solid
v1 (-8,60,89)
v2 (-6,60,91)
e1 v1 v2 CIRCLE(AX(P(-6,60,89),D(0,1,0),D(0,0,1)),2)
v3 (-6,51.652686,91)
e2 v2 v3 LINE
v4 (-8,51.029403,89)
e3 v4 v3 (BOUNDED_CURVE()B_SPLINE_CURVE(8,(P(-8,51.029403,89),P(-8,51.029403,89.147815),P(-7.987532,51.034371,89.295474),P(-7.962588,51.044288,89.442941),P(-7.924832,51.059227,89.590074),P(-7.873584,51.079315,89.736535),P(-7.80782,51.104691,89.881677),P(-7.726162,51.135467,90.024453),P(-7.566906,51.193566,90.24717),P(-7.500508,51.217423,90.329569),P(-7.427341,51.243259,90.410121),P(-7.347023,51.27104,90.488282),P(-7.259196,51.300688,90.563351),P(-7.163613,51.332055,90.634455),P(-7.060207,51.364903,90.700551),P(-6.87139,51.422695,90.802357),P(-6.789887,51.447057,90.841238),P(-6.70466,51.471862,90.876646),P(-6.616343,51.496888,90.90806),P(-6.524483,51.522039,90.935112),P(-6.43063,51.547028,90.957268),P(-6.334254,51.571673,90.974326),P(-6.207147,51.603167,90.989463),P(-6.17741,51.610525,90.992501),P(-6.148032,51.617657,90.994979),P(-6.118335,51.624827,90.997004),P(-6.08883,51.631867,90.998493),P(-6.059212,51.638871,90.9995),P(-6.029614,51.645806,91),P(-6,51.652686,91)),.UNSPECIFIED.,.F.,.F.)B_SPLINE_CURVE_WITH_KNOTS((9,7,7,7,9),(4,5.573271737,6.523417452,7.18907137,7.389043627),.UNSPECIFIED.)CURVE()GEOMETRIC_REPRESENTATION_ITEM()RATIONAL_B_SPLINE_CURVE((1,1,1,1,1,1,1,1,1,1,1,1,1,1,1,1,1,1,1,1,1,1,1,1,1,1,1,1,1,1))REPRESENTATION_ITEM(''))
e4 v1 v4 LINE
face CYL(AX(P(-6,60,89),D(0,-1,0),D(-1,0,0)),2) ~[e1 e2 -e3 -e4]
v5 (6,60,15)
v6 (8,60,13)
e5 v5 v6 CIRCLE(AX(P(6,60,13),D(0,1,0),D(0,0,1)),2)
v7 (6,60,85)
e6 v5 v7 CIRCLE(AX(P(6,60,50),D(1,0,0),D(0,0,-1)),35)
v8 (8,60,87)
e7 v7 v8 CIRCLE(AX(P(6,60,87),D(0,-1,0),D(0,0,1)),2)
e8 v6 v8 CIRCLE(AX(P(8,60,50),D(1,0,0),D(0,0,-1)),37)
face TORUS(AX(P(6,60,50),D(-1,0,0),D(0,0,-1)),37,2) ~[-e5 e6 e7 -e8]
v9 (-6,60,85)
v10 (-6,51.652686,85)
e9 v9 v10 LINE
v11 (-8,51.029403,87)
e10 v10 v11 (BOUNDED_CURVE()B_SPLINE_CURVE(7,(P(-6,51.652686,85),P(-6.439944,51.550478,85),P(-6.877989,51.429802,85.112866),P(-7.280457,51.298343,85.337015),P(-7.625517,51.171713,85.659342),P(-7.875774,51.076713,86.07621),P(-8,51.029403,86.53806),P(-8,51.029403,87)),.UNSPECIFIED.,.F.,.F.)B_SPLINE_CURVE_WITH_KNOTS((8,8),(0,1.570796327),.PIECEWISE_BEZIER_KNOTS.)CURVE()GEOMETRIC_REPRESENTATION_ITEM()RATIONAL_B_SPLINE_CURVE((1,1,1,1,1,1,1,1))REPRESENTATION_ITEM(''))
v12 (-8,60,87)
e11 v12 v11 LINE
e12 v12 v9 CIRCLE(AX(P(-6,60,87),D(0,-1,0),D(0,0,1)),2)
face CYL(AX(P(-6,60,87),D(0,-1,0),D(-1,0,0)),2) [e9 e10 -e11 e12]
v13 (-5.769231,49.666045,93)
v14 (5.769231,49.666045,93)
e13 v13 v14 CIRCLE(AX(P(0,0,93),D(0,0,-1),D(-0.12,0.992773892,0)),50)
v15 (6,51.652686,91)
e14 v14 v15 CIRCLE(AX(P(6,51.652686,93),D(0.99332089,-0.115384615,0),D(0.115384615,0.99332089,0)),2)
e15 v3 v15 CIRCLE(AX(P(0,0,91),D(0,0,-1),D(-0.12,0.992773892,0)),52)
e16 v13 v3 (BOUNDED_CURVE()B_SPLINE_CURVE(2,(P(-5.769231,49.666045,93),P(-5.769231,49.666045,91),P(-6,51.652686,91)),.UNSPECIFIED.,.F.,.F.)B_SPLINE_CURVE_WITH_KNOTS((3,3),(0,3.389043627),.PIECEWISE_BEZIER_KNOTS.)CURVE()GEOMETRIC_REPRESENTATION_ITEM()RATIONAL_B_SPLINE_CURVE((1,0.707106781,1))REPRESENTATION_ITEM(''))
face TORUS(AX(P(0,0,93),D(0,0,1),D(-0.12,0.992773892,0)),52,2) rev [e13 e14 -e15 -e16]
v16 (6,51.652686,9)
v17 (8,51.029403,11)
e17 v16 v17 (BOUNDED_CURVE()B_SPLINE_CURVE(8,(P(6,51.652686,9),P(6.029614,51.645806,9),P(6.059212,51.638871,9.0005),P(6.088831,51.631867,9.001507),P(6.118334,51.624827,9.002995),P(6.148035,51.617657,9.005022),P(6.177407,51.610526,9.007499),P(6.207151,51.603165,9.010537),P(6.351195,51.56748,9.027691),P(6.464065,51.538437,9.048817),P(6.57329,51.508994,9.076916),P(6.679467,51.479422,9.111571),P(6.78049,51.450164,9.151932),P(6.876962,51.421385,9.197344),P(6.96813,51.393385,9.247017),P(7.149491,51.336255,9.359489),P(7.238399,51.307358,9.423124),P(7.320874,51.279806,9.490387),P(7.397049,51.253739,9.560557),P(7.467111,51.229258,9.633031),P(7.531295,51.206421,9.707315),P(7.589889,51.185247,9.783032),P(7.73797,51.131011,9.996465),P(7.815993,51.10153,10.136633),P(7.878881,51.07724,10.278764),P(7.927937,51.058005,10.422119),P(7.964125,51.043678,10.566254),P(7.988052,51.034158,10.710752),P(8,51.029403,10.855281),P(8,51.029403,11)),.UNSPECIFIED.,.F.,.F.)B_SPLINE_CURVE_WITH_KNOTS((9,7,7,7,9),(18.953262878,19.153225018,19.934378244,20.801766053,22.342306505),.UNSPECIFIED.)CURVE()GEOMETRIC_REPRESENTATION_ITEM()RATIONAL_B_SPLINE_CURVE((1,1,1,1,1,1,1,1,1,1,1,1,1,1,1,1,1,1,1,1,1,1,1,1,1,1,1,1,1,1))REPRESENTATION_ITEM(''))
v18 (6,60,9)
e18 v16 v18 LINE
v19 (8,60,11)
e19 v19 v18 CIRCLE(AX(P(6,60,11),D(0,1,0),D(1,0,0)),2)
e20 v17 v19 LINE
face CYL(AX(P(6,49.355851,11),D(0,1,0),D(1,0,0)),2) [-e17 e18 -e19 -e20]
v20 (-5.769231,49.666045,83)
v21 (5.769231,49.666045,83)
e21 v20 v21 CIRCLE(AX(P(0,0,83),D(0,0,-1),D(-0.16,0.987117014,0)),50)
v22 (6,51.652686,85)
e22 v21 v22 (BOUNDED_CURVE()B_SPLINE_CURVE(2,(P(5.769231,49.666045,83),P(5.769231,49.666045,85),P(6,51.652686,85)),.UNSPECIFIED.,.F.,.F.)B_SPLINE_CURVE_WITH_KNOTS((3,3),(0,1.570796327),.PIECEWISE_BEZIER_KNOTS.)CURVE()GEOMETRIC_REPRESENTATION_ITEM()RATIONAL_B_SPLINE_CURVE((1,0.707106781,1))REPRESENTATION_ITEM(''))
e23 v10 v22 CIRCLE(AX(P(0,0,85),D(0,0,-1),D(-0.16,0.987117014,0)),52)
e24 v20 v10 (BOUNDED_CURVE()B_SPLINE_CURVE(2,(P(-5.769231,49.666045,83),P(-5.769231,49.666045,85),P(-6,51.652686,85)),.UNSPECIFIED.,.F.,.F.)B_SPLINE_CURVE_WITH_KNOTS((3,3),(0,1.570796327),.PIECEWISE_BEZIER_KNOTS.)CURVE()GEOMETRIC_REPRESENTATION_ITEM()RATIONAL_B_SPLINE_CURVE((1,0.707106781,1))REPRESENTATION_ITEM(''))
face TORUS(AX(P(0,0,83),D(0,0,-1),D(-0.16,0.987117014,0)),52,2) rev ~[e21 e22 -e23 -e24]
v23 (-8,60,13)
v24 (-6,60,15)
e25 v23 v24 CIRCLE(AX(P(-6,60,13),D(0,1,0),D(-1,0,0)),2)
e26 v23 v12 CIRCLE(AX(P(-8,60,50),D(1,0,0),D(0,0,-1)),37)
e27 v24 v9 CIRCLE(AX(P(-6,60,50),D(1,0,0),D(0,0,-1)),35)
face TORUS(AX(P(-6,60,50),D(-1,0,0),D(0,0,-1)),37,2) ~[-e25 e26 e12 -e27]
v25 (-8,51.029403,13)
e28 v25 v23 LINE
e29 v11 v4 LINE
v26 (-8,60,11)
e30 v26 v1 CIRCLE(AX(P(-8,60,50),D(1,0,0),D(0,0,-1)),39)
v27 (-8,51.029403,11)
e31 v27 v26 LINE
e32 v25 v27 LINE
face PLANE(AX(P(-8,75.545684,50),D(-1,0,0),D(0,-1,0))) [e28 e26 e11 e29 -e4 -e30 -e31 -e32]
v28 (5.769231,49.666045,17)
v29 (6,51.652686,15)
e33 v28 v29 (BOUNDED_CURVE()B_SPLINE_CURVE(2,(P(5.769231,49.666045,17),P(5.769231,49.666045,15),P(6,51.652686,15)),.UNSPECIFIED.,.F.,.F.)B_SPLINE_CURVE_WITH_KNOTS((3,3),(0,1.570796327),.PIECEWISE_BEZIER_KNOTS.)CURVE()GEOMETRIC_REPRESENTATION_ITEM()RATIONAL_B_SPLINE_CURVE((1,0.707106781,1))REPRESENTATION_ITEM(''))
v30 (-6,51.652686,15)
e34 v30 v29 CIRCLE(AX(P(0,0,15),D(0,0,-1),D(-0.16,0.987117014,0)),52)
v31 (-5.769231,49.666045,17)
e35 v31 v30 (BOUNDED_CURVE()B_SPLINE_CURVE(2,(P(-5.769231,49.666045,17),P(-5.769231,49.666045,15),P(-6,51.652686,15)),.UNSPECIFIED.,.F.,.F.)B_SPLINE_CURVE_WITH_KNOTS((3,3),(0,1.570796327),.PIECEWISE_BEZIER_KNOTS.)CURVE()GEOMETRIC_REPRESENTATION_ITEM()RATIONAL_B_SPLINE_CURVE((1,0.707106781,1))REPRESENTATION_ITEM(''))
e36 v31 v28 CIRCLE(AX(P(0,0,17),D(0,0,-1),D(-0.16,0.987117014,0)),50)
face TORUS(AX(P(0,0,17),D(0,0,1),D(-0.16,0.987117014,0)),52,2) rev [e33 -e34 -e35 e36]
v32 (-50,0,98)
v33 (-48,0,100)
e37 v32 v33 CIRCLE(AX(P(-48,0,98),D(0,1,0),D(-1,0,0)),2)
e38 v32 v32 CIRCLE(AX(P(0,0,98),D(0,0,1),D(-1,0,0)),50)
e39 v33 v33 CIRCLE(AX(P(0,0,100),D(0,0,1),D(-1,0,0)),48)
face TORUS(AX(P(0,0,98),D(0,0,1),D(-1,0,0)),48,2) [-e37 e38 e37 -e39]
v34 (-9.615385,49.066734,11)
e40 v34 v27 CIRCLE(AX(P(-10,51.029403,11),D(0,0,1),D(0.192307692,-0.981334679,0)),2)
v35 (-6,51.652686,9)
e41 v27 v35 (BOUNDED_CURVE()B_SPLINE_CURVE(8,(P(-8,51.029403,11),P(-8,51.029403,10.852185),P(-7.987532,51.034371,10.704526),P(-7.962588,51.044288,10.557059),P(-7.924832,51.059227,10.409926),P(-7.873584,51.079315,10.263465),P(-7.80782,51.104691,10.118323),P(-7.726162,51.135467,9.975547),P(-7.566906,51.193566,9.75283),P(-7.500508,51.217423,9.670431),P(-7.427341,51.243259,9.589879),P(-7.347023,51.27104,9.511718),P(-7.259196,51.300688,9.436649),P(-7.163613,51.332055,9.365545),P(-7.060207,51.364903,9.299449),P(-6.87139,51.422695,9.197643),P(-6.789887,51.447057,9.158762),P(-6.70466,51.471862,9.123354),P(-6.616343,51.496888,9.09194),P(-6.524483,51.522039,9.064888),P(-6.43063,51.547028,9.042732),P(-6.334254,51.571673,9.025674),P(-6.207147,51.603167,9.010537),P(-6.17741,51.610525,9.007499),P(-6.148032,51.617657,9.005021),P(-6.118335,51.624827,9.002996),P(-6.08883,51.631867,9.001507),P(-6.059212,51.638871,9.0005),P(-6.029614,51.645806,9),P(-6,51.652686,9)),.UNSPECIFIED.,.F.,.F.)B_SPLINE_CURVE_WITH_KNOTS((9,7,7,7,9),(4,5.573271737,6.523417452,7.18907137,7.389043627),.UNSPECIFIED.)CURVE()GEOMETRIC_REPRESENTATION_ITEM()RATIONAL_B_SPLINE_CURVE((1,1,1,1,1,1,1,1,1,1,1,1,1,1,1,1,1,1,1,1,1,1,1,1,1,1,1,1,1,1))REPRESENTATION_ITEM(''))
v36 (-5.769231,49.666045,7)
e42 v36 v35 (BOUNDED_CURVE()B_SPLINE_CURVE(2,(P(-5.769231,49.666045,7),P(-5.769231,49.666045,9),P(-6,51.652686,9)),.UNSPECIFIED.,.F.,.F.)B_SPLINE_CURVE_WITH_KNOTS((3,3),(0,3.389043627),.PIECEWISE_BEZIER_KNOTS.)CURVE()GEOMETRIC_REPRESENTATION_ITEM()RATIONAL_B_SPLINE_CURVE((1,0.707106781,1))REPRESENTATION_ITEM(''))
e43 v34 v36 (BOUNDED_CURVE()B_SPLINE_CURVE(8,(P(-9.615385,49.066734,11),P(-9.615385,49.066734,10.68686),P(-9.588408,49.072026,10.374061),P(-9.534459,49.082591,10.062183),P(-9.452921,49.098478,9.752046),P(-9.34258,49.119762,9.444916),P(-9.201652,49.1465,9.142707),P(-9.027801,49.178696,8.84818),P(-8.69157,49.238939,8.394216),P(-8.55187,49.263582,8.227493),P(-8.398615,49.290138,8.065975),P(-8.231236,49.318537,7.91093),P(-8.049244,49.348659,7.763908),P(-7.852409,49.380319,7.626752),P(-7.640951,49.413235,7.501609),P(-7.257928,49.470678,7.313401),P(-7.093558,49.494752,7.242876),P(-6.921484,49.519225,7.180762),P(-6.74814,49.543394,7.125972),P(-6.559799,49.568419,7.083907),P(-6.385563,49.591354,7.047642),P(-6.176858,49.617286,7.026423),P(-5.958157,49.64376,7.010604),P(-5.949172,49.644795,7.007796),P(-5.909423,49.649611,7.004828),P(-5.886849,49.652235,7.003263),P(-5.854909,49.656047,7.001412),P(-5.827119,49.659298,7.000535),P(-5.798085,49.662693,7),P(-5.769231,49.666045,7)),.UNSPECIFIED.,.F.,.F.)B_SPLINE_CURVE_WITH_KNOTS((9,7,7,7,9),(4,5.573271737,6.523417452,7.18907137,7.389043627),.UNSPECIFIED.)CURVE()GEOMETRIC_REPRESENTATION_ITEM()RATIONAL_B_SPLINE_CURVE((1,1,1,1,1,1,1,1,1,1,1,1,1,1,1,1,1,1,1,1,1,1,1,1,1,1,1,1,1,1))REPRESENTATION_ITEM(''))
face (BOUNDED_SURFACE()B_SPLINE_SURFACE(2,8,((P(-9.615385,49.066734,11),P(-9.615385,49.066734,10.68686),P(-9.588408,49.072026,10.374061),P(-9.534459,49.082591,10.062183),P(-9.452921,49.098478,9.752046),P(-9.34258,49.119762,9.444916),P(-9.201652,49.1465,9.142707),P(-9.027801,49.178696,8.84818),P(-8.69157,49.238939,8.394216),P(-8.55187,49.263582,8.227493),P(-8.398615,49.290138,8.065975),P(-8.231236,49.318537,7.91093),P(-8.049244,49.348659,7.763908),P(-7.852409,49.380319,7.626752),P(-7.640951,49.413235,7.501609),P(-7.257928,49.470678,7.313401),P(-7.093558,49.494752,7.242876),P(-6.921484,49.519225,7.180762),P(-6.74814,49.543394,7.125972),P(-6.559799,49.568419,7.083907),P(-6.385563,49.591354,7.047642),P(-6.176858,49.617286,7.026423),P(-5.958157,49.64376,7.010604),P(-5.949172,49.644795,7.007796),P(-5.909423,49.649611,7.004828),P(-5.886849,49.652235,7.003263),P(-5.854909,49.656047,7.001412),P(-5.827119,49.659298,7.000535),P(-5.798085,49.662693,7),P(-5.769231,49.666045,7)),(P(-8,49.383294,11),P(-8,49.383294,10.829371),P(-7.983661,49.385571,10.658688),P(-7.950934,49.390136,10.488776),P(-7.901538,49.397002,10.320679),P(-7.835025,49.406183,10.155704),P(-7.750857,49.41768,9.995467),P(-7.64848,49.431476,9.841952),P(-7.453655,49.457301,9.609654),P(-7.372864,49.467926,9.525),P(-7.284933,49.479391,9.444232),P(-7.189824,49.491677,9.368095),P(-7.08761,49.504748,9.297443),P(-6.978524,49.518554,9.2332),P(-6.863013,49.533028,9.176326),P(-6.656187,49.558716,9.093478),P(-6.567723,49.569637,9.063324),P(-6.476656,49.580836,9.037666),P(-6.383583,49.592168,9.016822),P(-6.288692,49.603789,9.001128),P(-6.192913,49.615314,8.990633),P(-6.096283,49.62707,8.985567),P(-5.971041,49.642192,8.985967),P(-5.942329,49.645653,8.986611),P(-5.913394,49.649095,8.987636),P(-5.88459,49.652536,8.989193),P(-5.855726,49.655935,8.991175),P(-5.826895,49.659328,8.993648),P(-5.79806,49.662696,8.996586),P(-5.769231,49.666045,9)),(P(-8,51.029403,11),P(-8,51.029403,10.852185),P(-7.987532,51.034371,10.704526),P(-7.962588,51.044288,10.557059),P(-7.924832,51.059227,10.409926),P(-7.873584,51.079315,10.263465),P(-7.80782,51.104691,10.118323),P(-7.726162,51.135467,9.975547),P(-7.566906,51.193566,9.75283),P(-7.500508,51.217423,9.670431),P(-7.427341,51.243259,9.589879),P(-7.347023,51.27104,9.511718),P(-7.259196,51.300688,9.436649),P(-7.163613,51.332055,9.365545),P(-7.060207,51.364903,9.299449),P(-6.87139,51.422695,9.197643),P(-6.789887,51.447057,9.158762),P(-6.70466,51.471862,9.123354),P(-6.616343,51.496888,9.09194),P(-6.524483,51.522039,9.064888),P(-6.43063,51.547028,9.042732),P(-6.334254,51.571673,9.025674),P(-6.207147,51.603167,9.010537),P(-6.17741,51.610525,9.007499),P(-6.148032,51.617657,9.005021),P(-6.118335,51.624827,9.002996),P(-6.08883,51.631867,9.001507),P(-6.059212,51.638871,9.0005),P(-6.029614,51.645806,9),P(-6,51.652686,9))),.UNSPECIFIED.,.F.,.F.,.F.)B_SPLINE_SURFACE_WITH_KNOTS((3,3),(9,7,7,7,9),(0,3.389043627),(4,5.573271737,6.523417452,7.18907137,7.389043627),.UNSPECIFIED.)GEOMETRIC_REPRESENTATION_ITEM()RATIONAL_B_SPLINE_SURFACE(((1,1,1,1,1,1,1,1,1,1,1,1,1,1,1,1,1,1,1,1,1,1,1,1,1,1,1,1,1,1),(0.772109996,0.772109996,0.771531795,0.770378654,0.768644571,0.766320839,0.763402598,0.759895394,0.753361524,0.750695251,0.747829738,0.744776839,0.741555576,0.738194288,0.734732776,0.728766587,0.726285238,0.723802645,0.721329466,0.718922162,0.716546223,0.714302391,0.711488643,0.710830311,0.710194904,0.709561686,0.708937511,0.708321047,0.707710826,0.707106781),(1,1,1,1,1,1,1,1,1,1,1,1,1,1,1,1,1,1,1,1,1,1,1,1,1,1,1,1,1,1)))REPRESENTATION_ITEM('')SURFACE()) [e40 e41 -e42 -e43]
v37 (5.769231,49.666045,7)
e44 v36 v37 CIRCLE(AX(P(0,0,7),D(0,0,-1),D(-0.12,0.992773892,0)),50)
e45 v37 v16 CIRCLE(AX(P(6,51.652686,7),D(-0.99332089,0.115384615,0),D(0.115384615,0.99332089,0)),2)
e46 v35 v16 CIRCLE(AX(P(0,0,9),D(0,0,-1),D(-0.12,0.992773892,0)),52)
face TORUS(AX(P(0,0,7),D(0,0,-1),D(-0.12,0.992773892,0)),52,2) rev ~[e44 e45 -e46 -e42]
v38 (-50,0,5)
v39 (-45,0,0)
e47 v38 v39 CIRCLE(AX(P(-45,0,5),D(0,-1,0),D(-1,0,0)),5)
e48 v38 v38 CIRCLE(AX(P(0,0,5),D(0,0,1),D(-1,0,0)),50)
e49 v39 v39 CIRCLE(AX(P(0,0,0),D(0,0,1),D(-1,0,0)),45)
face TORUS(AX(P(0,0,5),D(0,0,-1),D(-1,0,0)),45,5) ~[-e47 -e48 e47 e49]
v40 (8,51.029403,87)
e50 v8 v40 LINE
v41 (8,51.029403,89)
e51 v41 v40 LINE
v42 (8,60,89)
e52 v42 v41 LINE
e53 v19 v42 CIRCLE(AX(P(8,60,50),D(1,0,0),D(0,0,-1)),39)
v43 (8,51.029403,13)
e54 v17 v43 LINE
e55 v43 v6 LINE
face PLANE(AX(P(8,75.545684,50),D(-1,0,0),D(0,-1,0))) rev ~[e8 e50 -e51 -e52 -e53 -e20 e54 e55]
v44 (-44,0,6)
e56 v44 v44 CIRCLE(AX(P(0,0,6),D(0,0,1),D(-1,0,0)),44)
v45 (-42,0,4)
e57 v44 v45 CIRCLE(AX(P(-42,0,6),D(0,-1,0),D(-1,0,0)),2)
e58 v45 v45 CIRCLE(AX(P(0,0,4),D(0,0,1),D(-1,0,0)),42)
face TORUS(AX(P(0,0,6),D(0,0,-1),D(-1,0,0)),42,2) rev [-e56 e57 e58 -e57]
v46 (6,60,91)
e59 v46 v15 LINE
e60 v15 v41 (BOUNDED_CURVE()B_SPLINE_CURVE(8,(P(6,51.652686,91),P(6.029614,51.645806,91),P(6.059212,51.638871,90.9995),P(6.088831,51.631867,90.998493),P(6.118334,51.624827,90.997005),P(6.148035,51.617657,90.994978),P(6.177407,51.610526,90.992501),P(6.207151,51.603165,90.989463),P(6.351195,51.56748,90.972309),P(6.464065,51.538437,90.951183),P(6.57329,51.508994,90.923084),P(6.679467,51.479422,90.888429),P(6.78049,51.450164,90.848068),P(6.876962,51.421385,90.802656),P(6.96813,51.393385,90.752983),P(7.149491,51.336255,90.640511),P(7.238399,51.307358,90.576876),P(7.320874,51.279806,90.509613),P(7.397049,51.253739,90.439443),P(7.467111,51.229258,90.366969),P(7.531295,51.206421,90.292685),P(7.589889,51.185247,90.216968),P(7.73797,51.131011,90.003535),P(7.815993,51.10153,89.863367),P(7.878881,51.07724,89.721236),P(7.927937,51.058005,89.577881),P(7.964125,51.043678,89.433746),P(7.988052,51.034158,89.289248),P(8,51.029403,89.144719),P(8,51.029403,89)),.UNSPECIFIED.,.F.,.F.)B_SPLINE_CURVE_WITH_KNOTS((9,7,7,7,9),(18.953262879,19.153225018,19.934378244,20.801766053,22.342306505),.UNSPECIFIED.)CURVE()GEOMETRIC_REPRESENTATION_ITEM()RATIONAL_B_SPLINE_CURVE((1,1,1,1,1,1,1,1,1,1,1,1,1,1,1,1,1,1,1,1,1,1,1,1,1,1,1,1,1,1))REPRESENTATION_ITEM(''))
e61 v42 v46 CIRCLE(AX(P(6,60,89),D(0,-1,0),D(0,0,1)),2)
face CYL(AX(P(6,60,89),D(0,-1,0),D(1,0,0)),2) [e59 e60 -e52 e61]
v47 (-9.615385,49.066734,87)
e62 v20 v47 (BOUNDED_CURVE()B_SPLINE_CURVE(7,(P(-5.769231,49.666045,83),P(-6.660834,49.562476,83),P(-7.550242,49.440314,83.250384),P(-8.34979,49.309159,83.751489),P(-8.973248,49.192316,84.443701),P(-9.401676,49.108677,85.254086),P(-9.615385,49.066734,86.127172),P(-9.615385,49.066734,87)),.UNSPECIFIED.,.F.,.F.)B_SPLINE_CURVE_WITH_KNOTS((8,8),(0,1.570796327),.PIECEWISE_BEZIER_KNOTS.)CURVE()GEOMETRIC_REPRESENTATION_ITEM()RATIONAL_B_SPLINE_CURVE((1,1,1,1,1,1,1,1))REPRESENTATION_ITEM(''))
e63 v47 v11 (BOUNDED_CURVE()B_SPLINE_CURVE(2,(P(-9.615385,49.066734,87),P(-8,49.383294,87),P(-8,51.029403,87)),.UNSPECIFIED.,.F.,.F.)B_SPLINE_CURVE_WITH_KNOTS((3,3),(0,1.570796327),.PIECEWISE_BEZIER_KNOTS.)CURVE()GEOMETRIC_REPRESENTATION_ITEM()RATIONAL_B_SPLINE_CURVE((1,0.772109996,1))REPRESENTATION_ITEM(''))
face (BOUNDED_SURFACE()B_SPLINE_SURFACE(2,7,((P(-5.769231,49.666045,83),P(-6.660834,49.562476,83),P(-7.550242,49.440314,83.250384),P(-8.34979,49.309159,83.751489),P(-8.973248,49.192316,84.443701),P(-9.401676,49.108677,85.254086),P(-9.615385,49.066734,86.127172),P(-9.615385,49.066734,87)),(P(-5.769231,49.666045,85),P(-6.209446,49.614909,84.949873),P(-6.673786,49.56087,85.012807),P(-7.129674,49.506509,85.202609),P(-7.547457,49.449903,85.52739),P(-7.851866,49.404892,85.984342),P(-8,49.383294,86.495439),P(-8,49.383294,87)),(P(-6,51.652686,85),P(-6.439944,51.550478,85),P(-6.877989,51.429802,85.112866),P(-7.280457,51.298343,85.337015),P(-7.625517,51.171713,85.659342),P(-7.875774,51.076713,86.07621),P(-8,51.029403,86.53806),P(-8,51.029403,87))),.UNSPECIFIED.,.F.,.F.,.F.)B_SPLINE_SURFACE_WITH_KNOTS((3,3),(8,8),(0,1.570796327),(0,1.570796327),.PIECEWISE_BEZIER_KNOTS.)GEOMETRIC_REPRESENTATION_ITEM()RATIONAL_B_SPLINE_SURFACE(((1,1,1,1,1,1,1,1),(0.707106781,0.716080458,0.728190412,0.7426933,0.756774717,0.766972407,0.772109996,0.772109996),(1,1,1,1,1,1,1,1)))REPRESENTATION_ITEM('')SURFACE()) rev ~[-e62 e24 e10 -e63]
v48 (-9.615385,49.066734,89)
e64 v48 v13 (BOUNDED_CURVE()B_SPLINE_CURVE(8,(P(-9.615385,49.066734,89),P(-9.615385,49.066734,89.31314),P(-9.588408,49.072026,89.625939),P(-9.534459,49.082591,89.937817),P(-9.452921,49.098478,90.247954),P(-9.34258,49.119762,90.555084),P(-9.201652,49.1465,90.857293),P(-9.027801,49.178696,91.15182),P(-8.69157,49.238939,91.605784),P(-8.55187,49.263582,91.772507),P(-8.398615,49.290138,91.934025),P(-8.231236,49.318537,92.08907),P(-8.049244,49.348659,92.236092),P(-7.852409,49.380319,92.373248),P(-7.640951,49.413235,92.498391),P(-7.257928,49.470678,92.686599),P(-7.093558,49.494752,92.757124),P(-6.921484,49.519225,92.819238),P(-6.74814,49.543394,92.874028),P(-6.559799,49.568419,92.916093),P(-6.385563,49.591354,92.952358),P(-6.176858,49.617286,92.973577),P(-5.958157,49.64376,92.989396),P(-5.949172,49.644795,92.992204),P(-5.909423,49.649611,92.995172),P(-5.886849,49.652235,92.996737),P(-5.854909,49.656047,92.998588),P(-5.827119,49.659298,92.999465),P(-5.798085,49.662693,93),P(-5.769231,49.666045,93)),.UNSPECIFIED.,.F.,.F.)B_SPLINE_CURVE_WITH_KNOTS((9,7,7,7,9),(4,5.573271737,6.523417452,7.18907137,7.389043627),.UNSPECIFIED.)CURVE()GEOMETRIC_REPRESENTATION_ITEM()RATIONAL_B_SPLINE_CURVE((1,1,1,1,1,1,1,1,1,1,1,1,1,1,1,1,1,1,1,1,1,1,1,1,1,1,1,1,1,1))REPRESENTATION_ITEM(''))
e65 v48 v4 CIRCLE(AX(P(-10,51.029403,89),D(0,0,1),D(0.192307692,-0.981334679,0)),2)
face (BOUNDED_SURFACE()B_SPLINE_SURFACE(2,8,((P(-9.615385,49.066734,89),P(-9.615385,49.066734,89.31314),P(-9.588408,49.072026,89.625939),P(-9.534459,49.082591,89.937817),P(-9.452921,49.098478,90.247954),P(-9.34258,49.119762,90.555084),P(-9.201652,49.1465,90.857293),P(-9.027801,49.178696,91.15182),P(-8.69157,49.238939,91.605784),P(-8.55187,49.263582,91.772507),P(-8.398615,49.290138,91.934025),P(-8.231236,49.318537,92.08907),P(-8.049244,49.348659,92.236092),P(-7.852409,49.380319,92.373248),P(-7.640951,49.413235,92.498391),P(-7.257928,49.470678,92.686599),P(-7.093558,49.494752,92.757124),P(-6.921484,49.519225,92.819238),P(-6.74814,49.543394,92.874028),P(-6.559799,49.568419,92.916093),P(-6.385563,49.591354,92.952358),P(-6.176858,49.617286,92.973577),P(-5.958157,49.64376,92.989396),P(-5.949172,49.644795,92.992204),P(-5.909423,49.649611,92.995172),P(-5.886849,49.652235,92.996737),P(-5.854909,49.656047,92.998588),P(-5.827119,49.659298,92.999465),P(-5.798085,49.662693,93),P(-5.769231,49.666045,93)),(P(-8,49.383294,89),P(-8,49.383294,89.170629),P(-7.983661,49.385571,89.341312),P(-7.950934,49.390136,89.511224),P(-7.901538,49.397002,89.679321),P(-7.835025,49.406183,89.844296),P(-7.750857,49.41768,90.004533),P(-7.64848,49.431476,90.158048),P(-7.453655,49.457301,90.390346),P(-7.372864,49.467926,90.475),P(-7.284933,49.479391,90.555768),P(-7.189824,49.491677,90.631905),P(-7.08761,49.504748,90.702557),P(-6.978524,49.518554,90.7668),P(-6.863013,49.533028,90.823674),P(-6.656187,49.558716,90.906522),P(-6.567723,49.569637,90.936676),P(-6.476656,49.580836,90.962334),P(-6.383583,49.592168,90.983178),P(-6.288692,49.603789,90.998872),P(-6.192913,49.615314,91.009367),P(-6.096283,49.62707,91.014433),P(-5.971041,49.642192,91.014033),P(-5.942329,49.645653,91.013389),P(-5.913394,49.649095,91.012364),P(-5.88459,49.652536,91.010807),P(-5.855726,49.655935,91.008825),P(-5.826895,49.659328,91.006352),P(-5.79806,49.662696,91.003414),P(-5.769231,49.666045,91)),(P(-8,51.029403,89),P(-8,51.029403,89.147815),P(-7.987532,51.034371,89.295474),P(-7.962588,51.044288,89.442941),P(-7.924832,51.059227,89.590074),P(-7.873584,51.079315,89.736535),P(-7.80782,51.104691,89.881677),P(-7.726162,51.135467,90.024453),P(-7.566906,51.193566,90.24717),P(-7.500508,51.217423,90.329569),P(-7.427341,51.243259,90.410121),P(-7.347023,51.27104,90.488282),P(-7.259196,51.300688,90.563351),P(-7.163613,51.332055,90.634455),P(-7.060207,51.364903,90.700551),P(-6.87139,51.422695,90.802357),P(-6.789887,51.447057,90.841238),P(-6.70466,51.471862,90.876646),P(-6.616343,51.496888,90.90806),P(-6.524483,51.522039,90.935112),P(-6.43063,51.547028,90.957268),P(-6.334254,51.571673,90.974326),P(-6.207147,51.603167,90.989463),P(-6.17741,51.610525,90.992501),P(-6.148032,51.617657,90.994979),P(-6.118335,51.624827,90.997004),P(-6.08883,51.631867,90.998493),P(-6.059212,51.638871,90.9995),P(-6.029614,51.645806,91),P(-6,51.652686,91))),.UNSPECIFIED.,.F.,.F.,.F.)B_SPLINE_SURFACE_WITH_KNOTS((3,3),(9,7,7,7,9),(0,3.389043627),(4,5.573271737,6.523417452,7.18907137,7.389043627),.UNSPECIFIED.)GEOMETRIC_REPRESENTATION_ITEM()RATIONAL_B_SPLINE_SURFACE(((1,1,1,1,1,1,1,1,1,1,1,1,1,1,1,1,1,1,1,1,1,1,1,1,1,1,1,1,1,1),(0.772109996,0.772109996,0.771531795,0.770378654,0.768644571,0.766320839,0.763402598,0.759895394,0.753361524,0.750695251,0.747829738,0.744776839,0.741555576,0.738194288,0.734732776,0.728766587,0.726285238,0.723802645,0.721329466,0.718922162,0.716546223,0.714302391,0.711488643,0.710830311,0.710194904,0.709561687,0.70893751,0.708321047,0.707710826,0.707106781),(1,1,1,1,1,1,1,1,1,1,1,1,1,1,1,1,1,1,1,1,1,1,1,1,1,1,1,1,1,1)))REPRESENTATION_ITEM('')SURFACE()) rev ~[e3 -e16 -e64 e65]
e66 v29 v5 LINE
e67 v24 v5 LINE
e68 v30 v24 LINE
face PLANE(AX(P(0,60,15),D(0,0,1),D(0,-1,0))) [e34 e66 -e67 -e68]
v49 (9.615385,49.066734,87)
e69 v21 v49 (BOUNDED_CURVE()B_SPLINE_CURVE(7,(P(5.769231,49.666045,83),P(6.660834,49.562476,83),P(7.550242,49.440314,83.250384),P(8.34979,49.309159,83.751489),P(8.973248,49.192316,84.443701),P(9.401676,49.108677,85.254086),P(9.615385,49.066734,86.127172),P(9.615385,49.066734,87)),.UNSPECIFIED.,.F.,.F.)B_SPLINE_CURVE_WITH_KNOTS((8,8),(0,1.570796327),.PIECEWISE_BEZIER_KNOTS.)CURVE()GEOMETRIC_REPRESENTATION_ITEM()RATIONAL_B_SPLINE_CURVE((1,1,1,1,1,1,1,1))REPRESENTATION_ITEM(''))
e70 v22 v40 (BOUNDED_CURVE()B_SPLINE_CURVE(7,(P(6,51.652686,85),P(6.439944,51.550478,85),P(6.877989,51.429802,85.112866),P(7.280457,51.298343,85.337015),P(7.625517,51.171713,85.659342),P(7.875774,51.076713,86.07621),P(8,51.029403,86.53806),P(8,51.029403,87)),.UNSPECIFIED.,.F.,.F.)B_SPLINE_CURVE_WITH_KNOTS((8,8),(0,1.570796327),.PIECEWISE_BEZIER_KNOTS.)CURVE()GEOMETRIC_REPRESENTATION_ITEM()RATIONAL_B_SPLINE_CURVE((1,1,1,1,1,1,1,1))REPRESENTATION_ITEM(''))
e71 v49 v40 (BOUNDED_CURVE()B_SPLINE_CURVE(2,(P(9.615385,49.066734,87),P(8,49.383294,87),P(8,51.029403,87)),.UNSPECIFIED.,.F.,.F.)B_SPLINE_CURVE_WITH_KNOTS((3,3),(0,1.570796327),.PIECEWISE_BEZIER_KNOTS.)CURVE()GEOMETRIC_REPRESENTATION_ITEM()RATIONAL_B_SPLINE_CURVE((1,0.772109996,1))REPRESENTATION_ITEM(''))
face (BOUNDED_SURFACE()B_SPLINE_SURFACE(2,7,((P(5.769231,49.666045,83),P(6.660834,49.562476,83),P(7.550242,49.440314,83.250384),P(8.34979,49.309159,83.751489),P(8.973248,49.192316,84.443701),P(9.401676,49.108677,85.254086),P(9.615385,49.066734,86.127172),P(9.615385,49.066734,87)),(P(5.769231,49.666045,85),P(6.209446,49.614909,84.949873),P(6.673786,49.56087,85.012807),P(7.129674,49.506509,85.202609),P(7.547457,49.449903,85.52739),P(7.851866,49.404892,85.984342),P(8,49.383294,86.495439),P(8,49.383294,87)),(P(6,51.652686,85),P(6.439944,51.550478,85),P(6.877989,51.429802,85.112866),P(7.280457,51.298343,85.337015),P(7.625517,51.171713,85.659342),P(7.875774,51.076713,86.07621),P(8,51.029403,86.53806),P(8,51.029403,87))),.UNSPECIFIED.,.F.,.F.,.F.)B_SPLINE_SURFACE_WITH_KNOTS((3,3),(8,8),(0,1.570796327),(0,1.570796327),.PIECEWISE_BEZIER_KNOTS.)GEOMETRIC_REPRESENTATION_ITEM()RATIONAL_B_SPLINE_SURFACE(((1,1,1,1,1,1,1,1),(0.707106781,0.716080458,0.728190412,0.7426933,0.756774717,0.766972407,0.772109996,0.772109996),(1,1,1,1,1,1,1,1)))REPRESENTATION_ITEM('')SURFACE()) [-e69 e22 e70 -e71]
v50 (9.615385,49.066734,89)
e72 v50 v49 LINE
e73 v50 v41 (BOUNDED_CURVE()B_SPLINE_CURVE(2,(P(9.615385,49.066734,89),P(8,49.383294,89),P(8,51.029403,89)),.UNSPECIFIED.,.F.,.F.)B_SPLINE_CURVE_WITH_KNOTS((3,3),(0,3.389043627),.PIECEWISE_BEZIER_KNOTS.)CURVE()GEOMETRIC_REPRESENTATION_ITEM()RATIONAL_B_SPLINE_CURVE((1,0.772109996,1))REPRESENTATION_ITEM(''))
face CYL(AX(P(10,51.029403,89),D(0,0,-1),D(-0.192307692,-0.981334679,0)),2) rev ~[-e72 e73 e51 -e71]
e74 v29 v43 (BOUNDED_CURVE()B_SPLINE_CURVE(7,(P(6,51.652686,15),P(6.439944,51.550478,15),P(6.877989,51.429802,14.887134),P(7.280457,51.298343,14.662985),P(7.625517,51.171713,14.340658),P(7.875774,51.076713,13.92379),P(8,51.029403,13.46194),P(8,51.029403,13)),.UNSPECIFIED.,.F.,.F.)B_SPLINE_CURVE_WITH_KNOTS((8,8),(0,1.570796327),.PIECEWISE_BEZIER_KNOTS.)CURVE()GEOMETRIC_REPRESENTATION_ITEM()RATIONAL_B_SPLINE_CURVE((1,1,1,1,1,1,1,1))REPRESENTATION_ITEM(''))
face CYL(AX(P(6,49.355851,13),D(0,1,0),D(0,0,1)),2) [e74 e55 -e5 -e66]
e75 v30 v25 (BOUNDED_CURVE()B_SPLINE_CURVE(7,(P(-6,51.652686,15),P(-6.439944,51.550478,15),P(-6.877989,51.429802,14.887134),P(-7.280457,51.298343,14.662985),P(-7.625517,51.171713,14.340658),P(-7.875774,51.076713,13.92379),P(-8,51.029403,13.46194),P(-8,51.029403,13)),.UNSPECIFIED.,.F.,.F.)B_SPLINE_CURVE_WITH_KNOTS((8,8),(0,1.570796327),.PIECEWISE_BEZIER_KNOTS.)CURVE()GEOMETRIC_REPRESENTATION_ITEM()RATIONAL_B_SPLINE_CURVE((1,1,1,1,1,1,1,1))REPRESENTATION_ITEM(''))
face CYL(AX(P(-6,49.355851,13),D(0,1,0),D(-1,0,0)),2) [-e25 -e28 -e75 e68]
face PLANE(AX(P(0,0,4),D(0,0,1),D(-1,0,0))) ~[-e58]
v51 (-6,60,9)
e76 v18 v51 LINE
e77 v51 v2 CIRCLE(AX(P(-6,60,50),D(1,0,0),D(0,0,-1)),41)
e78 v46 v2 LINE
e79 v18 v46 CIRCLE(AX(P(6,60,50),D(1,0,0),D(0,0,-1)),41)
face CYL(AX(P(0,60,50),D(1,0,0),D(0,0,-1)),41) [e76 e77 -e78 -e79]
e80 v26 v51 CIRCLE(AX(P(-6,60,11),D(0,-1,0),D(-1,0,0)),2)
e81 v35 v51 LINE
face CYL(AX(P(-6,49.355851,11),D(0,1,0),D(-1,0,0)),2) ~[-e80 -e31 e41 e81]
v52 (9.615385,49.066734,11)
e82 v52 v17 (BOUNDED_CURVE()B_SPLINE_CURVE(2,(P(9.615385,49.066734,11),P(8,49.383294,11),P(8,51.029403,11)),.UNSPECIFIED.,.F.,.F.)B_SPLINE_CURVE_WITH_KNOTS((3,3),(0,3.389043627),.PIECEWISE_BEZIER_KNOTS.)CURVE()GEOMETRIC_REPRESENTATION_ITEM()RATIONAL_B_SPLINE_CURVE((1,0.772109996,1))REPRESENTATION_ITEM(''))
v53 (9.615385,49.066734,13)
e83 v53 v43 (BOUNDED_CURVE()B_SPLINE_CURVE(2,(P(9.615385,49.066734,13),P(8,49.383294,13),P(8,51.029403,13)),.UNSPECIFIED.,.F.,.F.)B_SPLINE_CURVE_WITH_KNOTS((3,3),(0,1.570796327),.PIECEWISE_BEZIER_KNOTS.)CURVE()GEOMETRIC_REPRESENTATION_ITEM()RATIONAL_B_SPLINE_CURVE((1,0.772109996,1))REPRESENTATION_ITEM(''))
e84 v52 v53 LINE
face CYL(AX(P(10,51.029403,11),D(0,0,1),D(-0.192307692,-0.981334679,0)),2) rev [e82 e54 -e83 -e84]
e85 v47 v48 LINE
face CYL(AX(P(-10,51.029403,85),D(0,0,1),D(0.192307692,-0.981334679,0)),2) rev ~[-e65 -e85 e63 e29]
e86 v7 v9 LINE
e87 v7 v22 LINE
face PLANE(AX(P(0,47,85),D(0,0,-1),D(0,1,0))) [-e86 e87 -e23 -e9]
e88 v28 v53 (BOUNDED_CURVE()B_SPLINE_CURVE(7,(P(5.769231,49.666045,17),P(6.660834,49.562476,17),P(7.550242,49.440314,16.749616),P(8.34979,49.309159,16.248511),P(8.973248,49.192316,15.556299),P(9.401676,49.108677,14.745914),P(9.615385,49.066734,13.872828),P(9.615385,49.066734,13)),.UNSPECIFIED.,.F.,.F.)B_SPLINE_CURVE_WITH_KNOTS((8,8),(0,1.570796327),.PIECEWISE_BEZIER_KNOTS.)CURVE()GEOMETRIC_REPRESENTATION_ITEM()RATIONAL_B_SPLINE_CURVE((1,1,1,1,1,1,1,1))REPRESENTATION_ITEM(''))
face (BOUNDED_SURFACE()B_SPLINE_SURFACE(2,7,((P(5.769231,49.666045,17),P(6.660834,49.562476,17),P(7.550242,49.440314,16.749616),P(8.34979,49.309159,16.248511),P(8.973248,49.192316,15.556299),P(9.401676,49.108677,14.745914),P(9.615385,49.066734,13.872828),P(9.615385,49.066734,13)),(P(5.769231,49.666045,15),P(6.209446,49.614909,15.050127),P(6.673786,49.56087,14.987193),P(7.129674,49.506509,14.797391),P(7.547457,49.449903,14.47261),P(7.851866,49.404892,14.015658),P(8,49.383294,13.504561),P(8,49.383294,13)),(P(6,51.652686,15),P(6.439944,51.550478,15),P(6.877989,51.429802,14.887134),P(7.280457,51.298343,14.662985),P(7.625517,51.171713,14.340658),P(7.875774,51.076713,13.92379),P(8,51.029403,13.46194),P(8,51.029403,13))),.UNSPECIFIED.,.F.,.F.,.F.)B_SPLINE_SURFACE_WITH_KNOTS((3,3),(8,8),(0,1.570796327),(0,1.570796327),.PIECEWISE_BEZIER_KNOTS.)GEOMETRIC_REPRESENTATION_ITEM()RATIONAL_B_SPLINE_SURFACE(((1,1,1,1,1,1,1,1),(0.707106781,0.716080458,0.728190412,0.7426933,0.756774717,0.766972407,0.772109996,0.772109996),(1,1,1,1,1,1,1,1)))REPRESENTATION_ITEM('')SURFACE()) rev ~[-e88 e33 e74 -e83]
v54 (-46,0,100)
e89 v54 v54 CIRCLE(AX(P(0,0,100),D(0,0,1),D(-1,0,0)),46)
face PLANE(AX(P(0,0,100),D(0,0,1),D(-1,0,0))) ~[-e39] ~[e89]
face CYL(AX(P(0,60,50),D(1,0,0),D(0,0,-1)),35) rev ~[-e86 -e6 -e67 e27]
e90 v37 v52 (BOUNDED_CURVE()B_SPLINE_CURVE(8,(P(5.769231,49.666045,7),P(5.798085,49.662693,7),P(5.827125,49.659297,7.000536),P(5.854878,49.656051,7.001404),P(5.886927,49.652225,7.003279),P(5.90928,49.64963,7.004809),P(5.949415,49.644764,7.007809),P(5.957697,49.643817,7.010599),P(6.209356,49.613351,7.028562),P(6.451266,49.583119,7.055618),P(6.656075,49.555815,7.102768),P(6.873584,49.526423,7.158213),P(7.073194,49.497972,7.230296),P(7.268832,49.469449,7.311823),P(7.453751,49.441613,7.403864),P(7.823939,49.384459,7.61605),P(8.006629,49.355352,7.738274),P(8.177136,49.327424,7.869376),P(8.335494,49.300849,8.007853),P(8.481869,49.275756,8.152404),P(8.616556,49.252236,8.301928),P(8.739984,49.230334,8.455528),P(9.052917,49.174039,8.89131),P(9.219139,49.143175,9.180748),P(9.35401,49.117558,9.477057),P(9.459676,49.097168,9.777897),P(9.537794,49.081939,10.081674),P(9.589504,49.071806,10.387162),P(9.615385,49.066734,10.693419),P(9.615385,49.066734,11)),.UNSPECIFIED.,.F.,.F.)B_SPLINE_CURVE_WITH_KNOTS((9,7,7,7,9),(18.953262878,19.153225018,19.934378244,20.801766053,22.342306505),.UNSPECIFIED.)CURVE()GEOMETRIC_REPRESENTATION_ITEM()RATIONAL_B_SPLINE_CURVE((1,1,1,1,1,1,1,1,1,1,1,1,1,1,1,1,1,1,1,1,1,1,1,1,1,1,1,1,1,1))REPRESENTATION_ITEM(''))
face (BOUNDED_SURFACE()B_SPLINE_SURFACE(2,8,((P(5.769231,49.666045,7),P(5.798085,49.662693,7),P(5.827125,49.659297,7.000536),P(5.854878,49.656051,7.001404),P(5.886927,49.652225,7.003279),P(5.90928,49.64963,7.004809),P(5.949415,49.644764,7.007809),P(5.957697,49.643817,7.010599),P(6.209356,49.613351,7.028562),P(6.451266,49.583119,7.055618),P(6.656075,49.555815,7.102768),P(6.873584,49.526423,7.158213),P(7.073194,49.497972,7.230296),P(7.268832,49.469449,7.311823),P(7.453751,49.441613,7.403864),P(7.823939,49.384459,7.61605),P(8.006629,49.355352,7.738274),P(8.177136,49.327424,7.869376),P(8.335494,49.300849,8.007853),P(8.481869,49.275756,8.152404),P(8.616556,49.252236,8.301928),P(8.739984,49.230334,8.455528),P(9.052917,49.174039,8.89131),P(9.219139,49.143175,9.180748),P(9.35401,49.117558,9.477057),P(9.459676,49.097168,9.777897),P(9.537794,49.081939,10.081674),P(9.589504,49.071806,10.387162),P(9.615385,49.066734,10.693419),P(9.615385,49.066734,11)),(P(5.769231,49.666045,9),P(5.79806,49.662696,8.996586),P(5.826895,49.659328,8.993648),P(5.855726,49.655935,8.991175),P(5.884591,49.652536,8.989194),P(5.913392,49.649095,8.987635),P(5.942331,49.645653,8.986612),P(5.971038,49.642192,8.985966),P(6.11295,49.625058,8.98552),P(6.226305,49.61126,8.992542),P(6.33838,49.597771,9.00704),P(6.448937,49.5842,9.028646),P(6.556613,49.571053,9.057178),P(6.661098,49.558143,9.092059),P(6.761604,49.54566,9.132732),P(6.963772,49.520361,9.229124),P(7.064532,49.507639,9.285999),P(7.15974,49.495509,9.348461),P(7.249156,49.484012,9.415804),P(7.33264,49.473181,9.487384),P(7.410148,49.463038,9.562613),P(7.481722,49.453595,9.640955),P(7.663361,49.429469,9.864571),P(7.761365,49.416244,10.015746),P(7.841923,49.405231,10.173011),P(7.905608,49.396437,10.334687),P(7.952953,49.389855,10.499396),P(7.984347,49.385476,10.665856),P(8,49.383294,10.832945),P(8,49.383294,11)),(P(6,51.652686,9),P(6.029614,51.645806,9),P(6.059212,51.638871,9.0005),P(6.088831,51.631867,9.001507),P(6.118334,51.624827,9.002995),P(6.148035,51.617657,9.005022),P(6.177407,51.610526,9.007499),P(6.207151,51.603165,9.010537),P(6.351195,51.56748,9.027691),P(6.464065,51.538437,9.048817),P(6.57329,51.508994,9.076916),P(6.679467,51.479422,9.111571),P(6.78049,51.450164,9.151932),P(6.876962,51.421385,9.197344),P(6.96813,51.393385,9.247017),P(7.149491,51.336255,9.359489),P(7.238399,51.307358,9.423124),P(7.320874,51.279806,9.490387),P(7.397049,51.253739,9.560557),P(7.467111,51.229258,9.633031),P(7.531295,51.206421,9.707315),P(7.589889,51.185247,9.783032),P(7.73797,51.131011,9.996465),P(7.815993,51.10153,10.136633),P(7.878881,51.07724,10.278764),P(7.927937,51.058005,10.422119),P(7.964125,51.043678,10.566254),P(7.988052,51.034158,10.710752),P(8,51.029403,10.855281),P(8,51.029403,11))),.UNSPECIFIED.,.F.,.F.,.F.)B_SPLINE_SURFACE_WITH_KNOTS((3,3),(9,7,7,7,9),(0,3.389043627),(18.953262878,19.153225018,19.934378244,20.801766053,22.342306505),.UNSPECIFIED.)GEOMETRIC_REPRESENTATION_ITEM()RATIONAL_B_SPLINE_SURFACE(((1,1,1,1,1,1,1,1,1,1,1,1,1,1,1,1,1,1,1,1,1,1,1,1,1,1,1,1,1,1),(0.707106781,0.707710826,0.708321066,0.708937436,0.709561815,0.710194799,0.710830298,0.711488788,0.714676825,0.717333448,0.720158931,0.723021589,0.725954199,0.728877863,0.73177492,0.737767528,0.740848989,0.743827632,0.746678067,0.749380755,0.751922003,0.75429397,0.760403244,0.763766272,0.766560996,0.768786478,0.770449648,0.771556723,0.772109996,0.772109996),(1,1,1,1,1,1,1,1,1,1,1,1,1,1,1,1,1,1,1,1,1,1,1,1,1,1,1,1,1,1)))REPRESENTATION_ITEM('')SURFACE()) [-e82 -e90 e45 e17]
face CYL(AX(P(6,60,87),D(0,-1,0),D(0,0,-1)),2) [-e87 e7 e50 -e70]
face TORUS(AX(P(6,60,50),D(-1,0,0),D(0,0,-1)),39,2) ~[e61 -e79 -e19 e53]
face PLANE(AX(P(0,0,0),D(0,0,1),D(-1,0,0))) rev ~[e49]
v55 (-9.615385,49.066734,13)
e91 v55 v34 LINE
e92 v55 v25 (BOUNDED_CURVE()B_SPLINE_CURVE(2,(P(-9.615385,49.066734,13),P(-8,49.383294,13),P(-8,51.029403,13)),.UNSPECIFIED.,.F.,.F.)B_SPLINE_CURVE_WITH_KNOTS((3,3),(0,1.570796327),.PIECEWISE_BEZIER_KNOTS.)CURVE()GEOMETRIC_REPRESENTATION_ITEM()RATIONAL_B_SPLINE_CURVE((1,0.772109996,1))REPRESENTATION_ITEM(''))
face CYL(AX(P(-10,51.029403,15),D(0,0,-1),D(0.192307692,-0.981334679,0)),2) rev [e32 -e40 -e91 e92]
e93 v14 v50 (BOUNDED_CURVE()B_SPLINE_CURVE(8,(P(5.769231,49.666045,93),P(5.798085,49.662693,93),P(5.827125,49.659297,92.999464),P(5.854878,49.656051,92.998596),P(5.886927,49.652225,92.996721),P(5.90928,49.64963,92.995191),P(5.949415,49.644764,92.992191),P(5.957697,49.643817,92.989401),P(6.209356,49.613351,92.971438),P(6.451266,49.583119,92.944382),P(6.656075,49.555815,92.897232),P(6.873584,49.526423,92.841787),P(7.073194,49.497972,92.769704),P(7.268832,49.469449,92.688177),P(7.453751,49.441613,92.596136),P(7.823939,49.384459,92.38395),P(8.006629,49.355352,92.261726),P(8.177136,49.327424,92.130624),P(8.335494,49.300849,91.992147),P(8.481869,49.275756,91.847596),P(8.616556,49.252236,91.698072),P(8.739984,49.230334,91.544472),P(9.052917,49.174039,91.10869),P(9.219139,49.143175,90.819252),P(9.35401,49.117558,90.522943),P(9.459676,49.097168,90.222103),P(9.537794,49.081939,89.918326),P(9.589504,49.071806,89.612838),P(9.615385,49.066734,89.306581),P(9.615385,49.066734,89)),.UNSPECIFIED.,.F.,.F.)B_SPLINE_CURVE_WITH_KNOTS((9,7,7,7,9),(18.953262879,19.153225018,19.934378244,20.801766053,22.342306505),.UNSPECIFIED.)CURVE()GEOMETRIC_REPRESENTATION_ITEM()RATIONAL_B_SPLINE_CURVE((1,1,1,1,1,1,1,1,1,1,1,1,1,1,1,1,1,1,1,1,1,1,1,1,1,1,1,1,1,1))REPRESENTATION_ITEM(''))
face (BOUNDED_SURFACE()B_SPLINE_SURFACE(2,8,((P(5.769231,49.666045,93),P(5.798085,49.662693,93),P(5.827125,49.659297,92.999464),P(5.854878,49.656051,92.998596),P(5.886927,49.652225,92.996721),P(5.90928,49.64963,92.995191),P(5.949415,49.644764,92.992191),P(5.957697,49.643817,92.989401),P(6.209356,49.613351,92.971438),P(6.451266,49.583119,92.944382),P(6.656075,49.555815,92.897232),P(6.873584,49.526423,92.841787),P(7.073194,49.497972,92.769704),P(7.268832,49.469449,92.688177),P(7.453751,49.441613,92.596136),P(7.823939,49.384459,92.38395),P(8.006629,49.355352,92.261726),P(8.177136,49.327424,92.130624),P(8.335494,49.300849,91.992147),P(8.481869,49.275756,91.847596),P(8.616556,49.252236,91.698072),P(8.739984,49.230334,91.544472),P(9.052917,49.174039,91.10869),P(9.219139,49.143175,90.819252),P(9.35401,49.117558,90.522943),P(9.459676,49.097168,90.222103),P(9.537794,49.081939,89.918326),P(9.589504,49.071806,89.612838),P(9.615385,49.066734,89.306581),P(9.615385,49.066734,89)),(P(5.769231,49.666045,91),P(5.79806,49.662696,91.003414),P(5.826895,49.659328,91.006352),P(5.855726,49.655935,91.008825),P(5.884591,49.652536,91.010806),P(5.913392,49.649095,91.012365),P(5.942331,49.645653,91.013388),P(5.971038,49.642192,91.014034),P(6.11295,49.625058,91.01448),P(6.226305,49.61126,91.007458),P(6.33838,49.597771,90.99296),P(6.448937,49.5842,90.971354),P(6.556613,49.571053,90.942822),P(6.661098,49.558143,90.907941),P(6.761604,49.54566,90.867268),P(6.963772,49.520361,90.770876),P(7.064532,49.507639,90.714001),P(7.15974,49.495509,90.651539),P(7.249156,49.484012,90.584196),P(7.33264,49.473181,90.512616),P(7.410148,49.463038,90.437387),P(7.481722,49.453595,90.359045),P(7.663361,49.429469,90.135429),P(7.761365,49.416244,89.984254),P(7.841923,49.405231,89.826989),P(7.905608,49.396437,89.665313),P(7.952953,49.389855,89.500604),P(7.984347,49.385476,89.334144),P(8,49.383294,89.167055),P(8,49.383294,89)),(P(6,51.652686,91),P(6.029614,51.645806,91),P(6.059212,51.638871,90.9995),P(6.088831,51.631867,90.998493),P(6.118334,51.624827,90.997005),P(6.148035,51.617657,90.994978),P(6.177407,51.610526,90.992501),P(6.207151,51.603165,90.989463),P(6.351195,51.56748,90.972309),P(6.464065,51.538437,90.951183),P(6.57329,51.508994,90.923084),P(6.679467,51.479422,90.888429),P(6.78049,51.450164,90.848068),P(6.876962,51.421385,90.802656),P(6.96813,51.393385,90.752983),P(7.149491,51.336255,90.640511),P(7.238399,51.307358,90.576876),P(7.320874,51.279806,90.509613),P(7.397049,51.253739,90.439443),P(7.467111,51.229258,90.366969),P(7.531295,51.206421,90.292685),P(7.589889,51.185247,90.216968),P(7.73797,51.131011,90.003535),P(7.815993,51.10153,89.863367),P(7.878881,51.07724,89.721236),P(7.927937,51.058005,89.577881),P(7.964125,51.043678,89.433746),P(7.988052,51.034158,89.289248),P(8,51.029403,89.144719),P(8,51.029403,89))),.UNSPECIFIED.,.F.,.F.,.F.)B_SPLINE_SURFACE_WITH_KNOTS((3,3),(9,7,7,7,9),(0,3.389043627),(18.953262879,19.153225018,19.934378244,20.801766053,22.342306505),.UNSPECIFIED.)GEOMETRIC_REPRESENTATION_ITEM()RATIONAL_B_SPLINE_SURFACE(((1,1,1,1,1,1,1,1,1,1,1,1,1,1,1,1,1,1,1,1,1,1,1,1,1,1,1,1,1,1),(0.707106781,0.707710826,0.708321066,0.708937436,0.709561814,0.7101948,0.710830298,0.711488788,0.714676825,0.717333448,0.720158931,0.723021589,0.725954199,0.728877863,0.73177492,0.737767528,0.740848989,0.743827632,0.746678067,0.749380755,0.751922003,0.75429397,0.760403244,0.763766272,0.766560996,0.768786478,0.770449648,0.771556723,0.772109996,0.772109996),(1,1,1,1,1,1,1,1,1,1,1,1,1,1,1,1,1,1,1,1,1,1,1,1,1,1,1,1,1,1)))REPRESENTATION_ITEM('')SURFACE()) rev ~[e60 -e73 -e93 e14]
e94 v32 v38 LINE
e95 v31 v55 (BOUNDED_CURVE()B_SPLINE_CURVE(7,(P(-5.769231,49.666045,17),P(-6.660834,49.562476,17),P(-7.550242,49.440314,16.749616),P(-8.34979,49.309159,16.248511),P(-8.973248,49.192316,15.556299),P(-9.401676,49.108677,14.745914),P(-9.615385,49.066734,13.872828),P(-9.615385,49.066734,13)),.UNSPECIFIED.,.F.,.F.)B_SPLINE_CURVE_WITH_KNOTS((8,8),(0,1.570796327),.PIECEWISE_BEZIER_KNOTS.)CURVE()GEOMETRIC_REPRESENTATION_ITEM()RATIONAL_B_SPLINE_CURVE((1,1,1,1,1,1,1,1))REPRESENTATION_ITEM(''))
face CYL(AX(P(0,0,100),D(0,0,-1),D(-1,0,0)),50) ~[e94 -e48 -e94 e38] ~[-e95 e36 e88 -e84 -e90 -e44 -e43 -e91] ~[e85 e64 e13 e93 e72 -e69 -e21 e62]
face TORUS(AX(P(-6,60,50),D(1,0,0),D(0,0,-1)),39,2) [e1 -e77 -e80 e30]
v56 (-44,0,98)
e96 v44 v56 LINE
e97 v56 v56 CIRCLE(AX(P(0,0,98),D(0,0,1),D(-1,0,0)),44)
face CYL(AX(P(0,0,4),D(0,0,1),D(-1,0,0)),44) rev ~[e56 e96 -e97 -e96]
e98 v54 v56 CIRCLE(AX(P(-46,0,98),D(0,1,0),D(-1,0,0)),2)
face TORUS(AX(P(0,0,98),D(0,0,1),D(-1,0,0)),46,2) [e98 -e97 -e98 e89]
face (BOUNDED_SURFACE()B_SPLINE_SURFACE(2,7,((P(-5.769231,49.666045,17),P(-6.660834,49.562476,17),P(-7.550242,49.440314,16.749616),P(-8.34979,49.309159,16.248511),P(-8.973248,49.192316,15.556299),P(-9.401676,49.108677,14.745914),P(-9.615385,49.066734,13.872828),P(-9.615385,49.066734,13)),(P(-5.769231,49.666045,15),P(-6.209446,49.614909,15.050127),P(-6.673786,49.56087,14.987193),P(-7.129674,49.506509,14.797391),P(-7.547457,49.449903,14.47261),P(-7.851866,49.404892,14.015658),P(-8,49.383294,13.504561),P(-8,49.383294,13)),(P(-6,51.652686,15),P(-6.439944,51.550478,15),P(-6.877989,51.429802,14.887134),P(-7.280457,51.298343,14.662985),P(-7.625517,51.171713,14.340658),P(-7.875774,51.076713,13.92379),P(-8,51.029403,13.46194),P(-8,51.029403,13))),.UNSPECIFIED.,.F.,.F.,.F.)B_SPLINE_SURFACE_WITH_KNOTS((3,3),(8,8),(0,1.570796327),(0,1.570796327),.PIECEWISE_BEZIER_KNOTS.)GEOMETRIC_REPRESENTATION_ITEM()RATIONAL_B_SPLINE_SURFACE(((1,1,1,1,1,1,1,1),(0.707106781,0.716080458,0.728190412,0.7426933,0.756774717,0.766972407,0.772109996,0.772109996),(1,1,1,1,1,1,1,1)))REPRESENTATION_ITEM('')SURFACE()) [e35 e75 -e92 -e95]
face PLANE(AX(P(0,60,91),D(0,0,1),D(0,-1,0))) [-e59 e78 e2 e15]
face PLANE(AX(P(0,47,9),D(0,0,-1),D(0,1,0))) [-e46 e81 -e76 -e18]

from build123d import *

# Parameters (mm, degrees)
PAD_DEPTH   = 8
FILLET_R    = 2
FILLET001_R = 2
FILLET002_R = 5


with BuildPart() as part:
    # Sketch → Revolution (revolve)
    with BuildSketch(Plane.XZ):
        Polygon((-50, 100), (-50, 0), (0, 0), (0, 4), (-44, 4), (-44, 100), align=None)
    revolve(axis=Axis((0, 0, 0), (0, 0, 1)))

    # Sketch001 → Pad (new body, symmetric)
    with BuildSketch(Plane.YZ):
        with BuildLine():
            ThreePointArc((60, 15), (95, 50), (60, 85))
            Line((47, 85), (60, 85))
            Line((47, 91), (47, 85))
            Line((60, 91), (47, 91))
            ThreePointArc((60, 9), (101, 50), (60, 91))
            Line((47, 9), (60, 9))
            Line((47, 15), (47, 9))
            Line((60, 15), (47, 15))
        make_face()
    extrude(amount=PAD_DEPTH, both=True)

    # Fillet
    fillet_edges = [part.edges().sort_by_distance(p)[0] for p in [
        (50, 0, 100),
        (44, 0, 100),
        (44, 0, 4),
        (-8, 101, 50),
        (8, 101, 50),
    ]]
    fillet(fillet_edges, radius=FILLET_R)

    # Fillet001
    fillet001_edges = [part.edges().sort_by_distance(p)[0] for p in [
        (0, 50, 85),
        (0, 50, 15),
        (0, 50, 91),
        (0, 50, 9),
        (8, 95, 50),
        (-8, 95, 50),
    ]]
    fillet(fillet001_edges, radius=FILLET001_R)

    # Fillet002
    fillet002_edges = [part.edges().sort_by_distance(p)[0] for p in [
        (50, 0, 0),
    ]]
    fillet(fillet002_edges, radius=FILLET002_R)


solid = part.part
